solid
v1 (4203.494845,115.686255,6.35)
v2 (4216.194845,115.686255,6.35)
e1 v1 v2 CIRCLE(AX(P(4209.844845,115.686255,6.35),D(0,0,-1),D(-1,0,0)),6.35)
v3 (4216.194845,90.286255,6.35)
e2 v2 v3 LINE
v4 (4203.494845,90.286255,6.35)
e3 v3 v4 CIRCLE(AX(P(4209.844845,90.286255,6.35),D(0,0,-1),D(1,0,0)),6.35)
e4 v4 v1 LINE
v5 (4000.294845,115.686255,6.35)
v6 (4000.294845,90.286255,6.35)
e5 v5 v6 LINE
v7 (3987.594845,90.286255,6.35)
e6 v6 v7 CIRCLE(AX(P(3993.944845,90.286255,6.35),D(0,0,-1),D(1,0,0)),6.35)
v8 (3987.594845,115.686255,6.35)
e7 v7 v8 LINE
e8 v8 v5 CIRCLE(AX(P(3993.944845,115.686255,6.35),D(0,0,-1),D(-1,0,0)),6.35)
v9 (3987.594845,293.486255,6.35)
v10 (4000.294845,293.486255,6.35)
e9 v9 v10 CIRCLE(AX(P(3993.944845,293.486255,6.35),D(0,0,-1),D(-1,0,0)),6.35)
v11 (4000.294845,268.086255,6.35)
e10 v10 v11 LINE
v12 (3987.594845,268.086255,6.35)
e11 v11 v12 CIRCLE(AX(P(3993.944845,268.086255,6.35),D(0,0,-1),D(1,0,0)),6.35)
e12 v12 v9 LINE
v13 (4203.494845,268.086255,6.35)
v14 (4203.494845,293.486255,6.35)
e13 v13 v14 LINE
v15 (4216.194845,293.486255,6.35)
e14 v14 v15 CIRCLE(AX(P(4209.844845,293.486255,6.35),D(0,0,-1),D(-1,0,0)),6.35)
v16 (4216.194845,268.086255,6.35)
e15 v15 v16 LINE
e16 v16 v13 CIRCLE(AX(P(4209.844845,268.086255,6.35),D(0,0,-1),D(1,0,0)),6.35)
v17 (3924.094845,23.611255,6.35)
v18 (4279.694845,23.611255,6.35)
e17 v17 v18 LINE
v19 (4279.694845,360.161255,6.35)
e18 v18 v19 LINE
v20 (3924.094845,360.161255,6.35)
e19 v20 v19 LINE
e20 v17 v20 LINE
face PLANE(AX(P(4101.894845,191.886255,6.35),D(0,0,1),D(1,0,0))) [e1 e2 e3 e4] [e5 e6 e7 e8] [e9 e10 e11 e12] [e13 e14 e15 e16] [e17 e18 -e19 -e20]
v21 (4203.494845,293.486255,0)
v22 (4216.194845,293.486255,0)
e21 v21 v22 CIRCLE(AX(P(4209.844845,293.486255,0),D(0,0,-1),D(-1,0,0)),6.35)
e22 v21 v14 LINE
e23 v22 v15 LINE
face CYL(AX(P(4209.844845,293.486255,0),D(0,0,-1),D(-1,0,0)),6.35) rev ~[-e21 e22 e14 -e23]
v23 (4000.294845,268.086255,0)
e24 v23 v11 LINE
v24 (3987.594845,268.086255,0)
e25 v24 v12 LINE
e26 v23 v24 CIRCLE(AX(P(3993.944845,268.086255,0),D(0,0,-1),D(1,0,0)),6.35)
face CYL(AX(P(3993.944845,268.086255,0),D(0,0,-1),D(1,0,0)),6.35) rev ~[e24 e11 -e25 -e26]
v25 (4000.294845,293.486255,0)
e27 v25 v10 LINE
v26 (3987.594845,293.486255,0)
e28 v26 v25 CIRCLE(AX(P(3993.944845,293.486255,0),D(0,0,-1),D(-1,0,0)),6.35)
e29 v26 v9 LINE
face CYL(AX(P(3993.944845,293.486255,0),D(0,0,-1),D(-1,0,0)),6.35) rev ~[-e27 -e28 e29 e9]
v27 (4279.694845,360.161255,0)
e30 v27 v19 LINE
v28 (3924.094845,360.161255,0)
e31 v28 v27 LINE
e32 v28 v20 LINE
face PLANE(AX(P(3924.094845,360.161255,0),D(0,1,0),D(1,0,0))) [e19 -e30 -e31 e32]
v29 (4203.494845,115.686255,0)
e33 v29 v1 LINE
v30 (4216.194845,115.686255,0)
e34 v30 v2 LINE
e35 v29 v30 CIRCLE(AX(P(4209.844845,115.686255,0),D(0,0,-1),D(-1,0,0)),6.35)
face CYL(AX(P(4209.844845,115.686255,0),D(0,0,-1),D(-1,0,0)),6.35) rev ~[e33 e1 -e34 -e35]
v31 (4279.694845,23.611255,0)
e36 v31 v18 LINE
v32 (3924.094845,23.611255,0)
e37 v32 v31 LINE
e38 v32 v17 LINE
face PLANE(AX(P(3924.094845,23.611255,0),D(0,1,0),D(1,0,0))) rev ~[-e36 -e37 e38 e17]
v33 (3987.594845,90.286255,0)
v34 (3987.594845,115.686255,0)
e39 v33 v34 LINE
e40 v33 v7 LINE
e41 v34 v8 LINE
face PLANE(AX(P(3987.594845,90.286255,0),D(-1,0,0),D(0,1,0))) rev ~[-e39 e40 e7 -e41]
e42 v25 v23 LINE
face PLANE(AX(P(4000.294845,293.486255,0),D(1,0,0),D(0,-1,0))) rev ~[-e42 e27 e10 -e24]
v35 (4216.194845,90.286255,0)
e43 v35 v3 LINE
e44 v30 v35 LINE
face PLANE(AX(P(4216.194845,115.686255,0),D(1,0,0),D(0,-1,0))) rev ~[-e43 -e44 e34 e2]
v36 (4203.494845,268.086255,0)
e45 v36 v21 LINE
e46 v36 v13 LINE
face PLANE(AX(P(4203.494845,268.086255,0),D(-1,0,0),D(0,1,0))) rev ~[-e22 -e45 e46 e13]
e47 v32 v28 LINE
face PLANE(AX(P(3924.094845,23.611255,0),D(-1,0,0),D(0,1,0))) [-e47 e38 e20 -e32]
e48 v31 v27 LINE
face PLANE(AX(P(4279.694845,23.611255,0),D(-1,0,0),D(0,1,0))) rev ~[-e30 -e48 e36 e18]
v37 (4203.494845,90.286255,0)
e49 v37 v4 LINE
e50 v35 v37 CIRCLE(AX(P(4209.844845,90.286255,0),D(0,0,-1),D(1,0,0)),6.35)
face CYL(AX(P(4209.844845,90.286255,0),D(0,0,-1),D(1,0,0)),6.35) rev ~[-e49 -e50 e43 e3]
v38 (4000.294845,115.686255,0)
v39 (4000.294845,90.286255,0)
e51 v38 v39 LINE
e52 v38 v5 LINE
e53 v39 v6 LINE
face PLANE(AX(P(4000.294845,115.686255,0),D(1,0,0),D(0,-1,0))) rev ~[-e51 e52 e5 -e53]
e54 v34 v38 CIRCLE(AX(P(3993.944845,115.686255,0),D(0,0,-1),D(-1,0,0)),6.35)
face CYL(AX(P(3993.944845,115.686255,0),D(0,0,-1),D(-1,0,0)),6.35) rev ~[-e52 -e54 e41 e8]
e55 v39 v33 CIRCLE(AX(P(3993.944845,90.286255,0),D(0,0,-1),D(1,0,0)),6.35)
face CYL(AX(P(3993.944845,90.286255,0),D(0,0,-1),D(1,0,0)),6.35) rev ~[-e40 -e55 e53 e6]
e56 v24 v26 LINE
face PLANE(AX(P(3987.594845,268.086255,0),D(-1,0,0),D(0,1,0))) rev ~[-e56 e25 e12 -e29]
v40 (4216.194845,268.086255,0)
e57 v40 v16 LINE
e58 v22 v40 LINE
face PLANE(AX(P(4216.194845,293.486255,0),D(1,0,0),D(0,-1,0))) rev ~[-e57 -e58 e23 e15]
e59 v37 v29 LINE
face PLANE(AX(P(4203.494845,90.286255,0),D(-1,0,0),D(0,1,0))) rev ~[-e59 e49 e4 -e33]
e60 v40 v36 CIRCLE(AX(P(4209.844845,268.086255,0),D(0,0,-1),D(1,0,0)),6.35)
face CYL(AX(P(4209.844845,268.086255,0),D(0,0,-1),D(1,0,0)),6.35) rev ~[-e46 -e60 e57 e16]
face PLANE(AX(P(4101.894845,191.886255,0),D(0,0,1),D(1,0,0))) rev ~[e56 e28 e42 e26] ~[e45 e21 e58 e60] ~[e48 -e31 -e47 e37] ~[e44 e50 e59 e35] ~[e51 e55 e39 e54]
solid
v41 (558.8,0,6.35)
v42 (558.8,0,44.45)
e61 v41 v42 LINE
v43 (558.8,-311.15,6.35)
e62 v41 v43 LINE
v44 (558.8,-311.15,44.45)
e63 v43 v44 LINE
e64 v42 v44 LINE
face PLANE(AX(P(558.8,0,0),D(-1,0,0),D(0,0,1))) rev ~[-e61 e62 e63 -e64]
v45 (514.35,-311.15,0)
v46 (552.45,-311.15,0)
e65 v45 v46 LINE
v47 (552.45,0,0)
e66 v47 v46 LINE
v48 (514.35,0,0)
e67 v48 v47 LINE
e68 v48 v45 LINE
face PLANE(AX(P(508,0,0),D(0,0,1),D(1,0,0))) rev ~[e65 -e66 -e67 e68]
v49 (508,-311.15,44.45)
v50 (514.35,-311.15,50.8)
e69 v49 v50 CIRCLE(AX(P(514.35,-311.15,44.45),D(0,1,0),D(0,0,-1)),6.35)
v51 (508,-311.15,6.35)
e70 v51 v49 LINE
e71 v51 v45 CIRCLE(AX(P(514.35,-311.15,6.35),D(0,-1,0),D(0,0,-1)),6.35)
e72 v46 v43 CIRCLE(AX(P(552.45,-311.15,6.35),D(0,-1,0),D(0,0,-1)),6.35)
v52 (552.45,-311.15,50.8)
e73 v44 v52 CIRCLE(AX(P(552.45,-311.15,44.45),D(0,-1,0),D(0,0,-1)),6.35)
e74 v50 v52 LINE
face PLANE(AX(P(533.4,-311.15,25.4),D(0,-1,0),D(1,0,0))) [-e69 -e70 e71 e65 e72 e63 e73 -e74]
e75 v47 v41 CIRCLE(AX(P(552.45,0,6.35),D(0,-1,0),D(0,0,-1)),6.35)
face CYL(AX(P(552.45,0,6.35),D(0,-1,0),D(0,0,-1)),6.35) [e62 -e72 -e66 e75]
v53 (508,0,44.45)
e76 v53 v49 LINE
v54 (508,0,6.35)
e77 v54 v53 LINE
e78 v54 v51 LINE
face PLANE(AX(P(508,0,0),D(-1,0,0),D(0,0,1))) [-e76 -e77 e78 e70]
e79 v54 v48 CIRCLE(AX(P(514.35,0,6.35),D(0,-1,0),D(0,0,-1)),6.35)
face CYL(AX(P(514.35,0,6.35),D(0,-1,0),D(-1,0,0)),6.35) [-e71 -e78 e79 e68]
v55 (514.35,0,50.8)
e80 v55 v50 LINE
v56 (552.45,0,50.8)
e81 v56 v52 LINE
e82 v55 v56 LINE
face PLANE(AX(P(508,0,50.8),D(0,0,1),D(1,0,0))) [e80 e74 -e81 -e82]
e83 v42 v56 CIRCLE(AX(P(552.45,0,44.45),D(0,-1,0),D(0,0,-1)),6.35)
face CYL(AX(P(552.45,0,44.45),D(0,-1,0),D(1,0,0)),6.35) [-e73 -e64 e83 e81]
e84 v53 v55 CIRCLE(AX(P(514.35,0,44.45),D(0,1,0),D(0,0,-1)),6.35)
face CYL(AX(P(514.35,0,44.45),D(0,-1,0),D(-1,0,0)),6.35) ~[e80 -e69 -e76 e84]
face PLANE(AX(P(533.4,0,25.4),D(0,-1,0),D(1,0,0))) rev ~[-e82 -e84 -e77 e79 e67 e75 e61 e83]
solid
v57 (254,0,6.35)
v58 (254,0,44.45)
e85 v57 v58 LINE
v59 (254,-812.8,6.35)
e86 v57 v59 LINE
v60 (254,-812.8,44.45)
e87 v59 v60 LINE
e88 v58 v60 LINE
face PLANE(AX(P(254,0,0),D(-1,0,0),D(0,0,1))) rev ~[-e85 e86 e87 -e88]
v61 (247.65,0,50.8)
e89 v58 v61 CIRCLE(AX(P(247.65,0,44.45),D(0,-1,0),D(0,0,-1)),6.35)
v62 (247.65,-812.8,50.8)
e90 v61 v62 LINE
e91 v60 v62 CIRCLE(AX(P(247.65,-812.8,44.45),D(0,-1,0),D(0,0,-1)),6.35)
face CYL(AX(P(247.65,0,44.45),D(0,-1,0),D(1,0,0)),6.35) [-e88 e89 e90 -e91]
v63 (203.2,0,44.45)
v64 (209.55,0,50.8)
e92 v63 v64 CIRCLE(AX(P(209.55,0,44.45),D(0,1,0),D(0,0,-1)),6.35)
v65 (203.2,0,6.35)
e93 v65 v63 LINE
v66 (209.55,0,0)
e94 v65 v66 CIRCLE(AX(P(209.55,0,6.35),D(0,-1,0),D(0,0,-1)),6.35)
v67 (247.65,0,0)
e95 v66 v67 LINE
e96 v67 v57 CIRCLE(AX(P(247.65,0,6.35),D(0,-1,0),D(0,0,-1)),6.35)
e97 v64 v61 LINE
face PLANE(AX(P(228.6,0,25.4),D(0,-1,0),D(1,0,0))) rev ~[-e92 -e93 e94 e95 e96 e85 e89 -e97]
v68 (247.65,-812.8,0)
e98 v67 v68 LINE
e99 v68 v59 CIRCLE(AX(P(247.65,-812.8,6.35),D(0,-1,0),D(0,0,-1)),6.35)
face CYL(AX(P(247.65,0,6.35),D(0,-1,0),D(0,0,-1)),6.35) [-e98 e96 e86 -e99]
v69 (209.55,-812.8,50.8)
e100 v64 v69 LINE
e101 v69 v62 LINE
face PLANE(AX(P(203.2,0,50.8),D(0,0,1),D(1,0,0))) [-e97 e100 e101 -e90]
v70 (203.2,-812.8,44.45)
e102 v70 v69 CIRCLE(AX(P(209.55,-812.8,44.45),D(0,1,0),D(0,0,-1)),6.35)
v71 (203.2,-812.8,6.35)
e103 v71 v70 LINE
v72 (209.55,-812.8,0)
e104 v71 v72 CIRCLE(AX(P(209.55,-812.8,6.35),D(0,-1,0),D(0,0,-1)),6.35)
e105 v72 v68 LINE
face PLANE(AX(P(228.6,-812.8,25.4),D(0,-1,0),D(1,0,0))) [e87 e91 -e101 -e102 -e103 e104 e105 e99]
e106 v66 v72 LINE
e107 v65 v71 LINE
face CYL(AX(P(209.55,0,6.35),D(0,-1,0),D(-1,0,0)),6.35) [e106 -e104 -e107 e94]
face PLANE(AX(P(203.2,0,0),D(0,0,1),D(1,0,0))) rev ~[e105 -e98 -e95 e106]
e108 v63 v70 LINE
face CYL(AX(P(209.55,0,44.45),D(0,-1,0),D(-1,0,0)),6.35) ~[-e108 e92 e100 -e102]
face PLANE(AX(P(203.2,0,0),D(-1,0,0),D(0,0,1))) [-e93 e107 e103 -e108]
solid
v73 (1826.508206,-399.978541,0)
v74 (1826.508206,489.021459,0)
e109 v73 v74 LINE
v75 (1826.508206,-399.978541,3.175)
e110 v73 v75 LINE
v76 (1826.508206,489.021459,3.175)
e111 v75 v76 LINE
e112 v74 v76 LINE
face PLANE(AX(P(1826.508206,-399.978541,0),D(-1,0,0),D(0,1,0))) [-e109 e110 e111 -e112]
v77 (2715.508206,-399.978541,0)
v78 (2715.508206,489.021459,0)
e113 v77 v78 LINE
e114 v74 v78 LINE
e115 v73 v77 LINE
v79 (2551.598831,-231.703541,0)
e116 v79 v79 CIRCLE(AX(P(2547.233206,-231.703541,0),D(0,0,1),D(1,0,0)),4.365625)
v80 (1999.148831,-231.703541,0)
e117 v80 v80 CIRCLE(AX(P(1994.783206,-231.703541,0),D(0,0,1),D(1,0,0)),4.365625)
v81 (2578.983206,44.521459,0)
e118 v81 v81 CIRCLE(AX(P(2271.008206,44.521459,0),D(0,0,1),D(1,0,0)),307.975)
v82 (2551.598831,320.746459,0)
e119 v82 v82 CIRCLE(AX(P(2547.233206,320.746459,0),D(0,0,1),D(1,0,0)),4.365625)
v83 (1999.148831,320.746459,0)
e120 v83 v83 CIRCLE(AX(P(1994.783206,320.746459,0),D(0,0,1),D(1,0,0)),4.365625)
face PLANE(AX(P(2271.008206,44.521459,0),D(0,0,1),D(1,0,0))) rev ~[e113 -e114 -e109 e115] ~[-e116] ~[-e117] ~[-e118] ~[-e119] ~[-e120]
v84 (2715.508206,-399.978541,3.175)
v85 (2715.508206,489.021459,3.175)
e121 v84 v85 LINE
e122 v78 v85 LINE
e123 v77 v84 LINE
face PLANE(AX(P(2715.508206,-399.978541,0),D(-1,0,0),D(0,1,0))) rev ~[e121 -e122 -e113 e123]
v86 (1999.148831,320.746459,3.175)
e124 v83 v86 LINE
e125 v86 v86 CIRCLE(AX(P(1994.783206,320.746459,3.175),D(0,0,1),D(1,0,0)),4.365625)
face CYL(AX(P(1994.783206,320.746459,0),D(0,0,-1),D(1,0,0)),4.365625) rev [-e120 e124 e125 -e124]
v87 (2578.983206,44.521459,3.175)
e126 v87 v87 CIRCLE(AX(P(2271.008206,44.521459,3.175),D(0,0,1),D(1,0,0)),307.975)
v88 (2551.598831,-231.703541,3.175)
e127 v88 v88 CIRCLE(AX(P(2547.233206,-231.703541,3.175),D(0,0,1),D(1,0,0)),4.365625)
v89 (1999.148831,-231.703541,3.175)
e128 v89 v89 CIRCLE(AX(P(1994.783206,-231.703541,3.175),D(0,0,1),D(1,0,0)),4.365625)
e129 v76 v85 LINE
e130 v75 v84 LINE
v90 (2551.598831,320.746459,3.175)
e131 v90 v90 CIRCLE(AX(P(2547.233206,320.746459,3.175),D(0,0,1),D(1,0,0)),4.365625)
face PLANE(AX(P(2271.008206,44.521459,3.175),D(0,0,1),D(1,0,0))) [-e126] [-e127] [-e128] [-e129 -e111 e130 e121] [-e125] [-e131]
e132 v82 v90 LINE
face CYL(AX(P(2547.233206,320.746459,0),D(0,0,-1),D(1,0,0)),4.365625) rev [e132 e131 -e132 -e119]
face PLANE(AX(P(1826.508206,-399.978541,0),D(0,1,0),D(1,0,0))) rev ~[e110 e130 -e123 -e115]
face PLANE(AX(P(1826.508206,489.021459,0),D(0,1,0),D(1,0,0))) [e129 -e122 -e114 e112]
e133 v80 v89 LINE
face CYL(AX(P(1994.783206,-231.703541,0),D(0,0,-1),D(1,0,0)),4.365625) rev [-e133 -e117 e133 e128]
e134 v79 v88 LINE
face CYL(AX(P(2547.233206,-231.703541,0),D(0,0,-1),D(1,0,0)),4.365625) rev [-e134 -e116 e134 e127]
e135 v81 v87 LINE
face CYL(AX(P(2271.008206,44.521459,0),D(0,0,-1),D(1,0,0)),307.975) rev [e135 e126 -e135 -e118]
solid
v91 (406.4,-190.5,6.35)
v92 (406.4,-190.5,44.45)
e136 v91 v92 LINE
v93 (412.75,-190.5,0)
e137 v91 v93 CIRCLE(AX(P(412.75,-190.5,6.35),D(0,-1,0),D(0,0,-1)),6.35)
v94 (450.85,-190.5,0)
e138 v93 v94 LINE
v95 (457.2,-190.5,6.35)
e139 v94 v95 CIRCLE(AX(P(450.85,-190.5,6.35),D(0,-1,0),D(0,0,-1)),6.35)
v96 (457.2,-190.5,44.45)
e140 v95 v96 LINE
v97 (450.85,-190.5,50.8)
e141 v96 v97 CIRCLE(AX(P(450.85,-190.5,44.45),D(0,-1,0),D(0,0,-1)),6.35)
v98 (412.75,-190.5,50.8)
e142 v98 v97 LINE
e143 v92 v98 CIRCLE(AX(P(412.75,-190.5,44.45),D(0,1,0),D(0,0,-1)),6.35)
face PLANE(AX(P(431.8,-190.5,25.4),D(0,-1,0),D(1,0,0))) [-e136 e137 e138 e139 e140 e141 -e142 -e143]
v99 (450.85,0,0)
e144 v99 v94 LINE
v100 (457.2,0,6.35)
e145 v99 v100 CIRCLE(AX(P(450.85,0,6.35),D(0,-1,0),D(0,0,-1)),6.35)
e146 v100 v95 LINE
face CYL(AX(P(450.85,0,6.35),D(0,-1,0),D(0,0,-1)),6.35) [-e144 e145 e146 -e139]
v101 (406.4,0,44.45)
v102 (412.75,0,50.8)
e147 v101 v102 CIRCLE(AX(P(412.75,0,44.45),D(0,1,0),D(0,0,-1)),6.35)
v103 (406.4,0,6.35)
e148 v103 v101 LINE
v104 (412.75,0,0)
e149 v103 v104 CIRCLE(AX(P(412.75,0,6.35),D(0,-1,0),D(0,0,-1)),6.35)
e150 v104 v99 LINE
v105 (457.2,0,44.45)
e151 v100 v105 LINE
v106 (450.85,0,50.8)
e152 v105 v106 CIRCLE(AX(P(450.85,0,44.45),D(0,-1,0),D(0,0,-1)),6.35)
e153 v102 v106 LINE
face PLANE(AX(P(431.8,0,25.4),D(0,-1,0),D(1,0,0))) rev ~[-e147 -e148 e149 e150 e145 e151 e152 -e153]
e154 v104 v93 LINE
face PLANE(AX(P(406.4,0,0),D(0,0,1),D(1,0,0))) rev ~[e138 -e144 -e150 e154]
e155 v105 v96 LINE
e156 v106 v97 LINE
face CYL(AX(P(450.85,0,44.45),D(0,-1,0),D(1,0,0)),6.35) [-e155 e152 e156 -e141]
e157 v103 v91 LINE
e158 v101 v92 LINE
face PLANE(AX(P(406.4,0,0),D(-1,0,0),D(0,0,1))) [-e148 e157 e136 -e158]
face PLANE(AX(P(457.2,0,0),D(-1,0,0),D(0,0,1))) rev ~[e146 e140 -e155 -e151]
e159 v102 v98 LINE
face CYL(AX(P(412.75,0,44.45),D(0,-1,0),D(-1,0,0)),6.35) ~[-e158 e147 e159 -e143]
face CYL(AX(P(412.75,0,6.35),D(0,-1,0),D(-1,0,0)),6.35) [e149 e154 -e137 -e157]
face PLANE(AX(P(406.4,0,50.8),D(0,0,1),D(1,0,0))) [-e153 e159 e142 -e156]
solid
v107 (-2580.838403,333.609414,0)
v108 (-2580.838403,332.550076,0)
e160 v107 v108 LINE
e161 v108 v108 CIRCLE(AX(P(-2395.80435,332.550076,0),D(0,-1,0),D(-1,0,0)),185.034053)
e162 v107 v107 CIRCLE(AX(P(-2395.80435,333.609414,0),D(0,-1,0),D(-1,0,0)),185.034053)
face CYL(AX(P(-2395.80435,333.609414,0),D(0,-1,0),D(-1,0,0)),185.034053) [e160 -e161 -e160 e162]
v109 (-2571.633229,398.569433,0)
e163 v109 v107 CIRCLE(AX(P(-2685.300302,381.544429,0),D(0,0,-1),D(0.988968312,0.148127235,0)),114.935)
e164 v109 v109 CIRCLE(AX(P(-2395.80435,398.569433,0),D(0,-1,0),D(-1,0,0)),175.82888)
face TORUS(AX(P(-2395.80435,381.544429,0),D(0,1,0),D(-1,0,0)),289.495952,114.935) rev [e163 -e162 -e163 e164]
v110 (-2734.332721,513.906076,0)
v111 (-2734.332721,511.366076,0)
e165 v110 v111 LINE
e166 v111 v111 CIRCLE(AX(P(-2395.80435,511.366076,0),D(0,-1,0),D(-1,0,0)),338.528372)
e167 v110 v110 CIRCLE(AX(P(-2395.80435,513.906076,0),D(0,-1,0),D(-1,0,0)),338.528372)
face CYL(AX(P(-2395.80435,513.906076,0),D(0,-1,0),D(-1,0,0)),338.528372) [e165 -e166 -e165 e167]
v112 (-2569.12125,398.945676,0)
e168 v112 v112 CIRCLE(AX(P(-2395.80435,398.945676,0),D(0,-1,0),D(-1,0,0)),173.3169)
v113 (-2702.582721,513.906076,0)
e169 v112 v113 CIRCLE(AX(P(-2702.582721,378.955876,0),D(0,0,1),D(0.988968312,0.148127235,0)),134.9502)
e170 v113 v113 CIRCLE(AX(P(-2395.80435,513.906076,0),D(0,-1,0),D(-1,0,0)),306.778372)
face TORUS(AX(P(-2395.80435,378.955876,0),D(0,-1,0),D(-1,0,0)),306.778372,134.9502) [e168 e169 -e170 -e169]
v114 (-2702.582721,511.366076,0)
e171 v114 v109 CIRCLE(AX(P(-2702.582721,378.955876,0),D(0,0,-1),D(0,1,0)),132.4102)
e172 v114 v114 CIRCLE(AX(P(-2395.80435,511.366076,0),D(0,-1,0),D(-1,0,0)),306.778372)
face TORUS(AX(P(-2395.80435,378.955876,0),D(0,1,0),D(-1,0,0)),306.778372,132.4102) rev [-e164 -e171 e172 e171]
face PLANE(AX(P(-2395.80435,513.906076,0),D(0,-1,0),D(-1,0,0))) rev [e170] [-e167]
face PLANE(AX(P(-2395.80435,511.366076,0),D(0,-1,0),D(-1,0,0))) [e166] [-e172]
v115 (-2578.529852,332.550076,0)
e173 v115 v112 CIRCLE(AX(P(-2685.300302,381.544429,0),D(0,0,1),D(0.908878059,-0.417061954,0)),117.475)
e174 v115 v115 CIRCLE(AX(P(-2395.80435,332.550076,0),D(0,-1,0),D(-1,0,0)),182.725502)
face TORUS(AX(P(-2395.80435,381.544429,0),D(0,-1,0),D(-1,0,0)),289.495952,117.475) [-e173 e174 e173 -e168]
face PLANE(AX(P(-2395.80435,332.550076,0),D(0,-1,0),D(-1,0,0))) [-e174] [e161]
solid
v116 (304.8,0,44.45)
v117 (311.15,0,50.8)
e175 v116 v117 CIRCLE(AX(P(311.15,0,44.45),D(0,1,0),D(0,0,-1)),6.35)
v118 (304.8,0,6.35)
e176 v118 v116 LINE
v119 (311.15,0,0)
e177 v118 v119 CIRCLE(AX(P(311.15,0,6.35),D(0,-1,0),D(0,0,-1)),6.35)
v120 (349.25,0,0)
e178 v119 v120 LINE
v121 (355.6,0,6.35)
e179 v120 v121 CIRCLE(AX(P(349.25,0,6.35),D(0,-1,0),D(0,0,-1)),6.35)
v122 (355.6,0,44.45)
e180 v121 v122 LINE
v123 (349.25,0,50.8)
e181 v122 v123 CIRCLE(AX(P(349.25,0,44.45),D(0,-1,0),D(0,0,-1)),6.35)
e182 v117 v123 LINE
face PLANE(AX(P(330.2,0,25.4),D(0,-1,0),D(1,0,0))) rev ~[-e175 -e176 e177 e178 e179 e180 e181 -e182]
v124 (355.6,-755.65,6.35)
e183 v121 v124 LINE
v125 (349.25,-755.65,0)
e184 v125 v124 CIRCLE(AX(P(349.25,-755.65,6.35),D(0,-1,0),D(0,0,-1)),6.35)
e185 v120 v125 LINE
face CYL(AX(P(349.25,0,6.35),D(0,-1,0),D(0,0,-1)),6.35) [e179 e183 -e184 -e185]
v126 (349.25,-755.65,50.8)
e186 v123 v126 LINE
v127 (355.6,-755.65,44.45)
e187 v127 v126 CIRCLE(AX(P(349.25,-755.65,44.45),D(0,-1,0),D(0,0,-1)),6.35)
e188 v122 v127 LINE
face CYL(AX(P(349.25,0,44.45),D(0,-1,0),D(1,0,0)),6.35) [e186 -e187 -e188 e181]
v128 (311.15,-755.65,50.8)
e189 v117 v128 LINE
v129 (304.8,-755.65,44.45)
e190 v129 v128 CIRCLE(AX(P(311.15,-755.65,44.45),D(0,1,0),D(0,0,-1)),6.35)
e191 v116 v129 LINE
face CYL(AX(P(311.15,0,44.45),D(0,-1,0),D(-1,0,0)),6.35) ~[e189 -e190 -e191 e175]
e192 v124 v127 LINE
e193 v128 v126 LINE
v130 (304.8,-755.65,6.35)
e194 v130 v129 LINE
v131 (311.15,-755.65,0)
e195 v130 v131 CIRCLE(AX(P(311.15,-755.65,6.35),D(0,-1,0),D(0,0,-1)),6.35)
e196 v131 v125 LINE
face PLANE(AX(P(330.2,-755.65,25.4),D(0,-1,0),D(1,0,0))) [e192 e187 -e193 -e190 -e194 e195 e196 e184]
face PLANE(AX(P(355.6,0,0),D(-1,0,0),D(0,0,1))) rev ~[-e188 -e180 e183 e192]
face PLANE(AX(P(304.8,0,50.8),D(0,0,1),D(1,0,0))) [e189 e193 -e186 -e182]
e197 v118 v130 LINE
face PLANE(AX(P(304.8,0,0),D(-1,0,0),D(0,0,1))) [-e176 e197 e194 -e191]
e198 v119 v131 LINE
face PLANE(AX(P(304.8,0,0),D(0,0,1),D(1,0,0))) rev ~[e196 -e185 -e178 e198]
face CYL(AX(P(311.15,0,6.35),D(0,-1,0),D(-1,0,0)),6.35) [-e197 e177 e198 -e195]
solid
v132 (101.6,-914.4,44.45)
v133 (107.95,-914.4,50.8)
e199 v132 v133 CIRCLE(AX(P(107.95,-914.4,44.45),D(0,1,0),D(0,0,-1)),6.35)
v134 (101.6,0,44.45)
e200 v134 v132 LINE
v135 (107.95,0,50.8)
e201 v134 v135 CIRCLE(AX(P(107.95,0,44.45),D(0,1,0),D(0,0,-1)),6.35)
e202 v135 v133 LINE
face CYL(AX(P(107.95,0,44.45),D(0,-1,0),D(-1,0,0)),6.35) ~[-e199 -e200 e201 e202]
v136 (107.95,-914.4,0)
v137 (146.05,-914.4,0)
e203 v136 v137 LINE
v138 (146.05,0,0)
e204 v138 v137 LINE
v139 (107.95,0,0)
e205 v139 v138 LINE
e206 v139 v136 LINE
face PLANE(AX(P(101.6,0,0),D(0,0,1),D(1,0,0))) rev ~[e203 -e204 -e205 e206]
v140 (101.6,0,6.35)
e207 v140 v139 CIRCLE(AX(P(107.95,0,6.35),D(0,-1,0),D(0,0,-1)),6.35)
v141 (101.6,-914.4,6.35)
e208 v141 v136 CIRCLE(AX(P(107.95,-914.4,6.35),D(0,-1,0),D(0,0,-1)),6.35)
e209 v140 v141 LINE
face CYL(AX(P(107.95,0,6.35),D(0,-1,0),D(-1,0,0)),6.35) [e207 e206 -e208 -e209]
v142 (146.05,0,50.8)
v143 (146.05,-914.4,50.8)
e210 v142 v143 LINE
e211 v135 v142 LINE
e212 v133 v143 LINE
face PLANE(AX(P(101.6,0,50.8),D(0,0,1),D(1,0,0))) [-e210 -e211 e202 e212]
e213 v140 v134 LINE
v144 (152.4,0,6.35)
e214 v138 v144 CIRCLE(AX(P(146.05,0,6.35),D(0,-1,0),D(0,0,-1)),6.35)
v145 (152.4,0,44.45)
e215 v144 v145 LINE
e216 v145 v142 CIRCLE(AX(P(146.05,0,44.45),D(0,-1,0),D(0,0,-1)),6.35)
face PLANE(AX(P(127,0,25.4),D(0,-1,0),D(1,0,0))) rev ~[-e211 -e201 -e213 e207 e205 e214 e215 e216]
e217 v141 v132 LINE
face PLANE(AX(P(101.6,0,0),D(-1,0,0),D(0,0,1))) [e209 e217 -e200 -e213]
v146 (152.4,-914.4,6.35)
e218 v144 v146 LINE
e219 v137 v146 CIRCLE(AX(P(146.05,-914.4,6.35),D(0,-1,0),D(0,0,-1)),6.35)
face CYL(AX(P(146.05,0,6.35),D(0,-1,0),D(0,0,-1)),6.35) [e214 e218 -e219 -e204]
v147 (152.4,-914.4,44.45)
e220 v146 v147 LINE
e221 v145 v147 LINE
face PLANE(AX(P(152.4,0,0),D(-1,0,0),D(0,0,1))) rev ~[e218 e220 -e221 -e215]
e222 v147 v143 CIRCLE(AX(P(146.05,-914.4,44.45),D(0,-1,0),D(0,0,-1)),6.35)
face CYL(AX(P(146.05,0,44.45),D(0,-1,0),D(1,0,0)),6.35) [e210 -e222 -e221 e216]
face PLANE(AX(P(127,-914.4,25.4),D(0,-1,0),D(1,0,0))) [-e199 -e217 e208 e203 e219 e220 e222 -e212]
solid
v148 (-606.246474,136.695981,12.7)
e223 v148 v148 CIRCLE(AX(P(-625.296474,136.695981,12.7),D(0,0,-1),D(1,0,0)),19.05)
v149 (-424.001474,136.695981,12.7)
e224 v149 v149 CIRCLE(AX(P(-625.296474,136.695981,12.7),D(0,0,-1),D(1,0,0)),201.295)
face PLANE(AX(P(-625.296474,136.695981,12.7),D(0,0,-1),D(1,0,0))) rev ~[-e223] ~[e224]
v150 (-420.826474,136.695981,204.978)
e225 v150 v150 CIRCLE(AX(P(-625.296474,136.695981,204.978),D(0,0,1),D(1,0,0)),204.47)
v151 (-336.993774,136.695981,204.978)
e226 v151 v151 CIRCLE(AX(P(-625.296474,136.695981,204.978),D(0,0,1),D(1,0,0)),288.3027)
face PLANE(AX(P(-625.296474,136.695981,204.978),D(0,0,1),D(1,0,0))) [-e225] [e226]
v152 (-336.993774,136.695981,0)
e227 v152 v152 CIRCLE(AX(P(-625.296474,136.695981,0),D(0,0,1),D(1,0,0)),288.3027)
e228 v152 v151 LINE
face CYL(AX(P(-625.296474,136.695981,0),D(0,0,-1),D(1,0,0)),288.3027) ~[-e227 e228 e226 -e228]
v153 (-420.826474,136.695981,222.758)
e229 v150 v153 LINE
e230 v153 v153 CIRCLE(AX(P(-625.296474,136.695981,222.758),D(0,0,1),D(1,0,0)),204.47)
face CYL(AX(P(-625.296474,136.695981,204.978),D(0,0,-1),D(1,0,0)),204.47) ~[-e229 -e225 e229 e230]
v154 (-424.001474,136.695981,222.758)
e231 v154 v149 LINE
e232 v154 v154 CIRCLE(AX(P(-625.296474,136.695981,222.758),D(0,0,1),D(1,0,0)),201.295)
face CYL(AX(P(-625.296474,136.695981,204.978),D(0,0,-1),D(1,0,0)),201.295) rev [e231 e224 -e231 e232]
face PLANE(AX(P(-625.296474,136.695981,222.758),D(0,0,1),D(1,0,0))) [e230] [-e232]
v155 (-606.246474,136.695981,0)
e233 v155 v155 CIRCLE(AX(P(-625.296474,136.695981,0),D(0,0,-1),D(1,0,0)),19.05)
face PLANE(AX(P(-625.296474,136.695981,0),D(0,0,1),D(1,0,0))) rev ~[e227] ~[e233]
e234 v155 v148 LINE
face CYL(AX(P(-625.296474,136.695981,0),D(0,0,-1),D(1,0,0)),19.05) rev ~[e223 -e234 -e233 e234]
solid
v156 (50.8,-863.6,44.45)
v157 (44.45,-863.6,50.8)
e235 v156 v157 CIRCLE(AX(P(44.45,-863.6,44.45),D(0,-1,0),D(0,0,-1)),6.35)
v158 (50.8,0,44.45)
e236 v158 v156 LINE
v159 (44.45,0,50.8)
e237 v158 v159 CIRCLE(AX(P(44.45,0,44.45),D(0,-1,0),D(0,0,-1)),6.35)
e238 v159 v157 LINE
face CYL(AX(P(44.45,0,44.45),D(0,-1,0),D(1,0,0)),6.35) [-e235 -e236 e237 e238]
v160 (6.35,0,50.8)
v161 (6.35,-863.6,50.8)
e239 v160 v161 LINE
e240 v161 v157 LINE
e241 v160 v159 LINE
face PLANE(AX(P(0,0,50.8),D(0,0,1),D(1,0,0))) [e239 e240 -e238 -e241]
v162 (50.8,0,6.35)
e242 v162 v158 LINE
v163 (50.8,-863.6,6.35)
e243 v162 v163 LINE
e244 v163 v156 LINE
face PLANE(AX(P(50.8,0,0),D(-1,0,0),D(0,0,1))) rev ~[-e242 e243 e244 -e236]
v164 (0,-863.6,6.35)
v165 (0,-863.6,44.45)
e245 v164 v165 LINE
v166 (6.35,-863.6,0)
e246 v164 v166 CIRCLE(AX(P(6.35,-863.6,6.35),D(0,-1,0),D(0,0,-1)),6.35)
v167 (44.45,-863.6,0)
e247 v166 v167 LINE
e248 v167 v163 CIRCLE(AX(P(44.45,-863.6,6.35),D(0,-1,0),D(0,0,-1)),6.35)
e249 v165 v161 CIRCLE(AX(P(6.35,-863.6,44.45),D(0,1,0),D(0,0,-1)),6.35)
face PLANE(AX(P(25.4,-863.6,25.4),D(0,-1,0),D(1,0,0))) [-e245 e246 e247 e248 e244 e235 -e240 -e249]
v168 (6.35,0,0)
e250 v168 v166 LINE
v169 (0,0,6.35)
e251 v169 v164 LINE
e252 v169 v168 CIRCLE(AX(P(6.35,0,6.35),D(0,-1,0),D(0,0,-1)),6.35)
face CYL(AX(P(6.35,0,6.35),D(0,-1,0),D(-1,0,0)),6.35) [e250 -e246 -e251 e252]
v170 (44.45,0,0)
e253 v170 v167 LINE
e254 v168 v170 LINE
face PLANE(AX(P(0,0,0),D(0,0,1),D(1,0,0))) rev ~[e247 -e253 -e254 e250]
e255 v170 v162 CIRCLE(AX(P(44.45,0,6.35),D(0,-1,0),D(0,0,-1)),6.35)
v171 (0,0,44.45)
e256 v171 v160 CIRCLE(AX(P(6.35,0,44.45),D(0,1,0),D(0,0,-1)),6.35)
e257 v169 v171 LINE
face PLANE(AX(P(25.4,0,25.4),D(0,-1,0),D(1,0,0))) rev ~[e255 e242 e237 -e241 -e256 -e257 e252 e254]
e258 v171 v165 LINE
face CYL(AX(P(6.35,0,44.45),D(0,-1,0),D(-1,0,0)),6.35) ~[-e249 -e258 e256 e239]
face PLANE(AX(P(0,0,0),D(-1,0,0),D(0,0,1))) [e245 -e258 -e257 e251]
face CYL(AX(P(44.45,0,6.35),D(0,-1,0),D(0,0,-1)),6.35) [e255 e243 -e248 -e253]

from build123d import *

# Parameters (mm, degrees)
F0_W      = 50.8
F0_H      = 50.8
F1_DEPTH  = 863.6
F2_R      = 6.35
F3_DEPTH  = 914.4
F4_DEPTH  = 812.8
F5_DEPTH  = 755.65
F6_DEPTH  = 190.5
F7_R      = 288.3027
F7_R_2    = 201.295
F8_DEPTH  = 204.978
F9_DEPTH  = 311.15
F10_W     = 889
F10_H     = 889
F10_R     = 4.365625
F10_R_2   = 307.975
F11_DEPTH = 3.175
F12_W     = 355.6
F12_H     = 336.55
F13_DEPTH = 6.35
F14_R     = 6.35
F14_2_R   = 6.35
F14_3_R   = 6.35
F14_4_R   = 6.35
F14_5_R   = 6.35
F17_R     = 201.6125
F17_R_2   = 19.05
F18_DEPTH = 12.7
F19_R     = 204.47
F19_R_2   = 201.295
F20_DEPTH = 17.78


with BuildPart() as f1:
    # F0 (on Front) → F1 (new body)
    with BuildSketch(Plane.XZ):
        with Locations((25.4, 25.4)):
            Rectangle(F0_W, F0_H)
    extrude(amount=F1_DEPTH)

    # F2
    f2_edges = [f1.edges().sort_by_distance(p)[0] for p in [
        (0, -431.8, 50.8),
        (0, -431.8, 0),
        (50.8, -431.8, 50.8),
        (50.8, -431.8, 0),
    ]]
    fillet(f2_edges, radius=F2_R)


with BuildPart() as f3:
    # F0 (on Front) → F3 (new body)
    with BuildSketch(Plane.XZ):
        with Locations((127, 25.4)):
            Rectangle(F0_W, F0_H)
    extrude(amount=F3_DEPTH)

    # F14
    f14_edges = [f3.edges().sort_by_distance(p)[0] for p in [
        (101.6, -457.2, 50.8),
        (152.4, -457.2, 50.8),
        (101.6, -457.2, 0),
        (152.4, -457.2, 0),
    ]]
    fillet(f14_edges, radius=F14_R)


with BuildPart() as f4:
    # F0 (on Front) → F4 (new body)
    with BuildSketch(Plane.XZ):
        with Locations((228.6, 25.4)):
            Rectangle(F0_W, F0_H)
    extrude(amount=F4_DEPTH)

    # F14#2
    f14_2_edges = [f4.edges().sort_by_distance(p)[0] for p in [
        (203.2, -406.4, 50.8),
        (254, -406.4, 50.8),
        (203.2, -406.4, 0),
        (254, -406.4, 0),
    ]]
    fillet(f14_2_edges, radius=F14_2_R)


with BuildPart() as f5:
    # F0 (on Front) → F5 (new body)
    with BuildSketch(Plane.XZ):
        with Locations((330.2, 25.4)):
            Rectangle(F0_W, F0_H)
    extrude(amount=F5_DEPTH)

    # F14#3
    f14_3_edges = [f5.edges().sort_by_distance(p)[0] for p in [
        (304.8, -377.825, 0),
        (355.6, -377.825, 0),
        (304.8, -377.825, 50.8),
        (355.6, -377.825, 50.8),
    ]]
    fillet(f14_3_edges, radius=F14_3_R)


with BuildPart() as f6:
    # F0 (on Front) → F6 (new body)
    with BuildSketch(Plane.XZ):
        with Locations((431.8, 25.4)):
            Rectangle(F0_W, F0_H)
    extrude(amount=F6_DEPTH)

    # F14#4
    f14_4_edges = [f6.edges().sort_by_distance(p)[0] for p in [
        (406.4, -95.25, 0),
        (457.2, -95.25, 0),
        (406.4, -95.25, 50.8),
        (457.2, -95.25, 50.8),
    ]]
    fillet(f14_4_edges, radius=F14_4_R)


with BuildPart() as f8:
    # F7 (on Top) → F8 (new body)
    with BuildSketch(Plane.XY):
        with Locations((-625.2964735031, 136.6959810257)):
            Circle(F7_R)
        with Locations((-625.2964735031, 136.6959810257)):
            Circle(F7_R_2, mode=Mode.SUBTRACT)
    extrude(amount=F8_DEPTH)

    # F17 (on face) → F18 (join)
    with BuildSketch(Plane(origin=(0, 0, 0), x_dir=(1, 0, 0), z_dir=(0, 0, -1))):
        with Locations((-625.2964735031, -136.6959810257)):
            Circle(F17_R)
        with Locations((-625.2964735031, -136.6959810257)):
            Circle(F17_R_2, mode=Mode.SUBTRACT)
    extrude(amount=-F18_DEPTH)

    # F19 (on face) → F20 (join)
    with BuildSketch(Plane.XY.offset(204.978)):
        with Locations((-625.2964735031, 136.6959810257)):
            Circle(F19_R)
        with Locations((-625.2964735031, 136.6959810257)):
            Circle(F19_R_2, mode=Mode.SUBTRACT)
    extrude(amount=F20_DEPTH)


with BuildPart() as f9:
    # F0 (on Front) → F9 (new body)
    with BuildSketch(Plane.XZ):
        with Locations((533.4, 25.4)):
            Rectangle(F0_W, F0_H)
    extrude(amount=F9_DEPTH)

    # F14#5
    f14_5_edges = [f9.edges().sort_by_distance(p)[0] for p in [
        (508, -155.575, 0),
        (558.8, -155.575, 0),
        (508, -155.575, 50.8),
        (558.8, -155.575, 50.8),
    ]]
    fillet(f14_5_edges, radius=F14_5_R)


with BuildPart() as f11:
    # F10 (on Top) → F11 (new body)
    with BuildSketch(Plane.XY):
        with Locations((2271.0082060814, 44.5214594526)):
            Rectangle(F10_W, F10_H)
        with Locations((1994.7832060814, -231.7035405474)):
            Circle(F10_R, mode=Mode.SUBTRACT)
        with Locations((2547.2332060814, -231.7035405474)):
            Circle(F10_R, mode=Mode.SUBTRACT)
        with Locations((2271.0082060814, 44.5214594526)):
            Circle(F10_R_2, mode=Mode.SUBTRACT)
        with Locations((1994.7832060814, 320.7464594526)):
            Circle(F10_R, mode=Mode.SUBTRACT)
        with Locations((2547.2332060814, 320.7464594526)):
            Circle(F10_R, mode=Mode.SUBTRACT)
    extrude(amount=F11_DEPTH)


with BuildPart() as f13:
    # F12 (on Top) → F13 (new body)
    with BuildSketch(Plane.XY):
        with Locations((4101.8948446361, 191.8862545967)):
            Rectangle(F12_W, F12_H)
        with BuildLine():
            Line((3987.5948446361, 90.2862545967), (3987.5948446361, 115.6862545967))
            ThreePointArc((3987.5948446361, 115.6862545967), (3993.9448446361, 122.0362545967), (4000.2948446361, 115.6862545967))
            Line((4000.2948446361, 115.6862545967), (4000.2948446361, 90.2862545967))
            ThreePointArc((4000.2948446361, 90.2862545967), (3993.9448446361, 83.9362545967), (3987.5948446361, 90.2862545967))
        make_face(mode=Mode.SUBTRACT)
        with BuildLine():
            Line((4203.4948446361, 90.2862545967), (4203.4948446361, 115.6862545967))
            ThreePointArc((4203.4948446361, 115.6862545967), (4209.8448446361, 122.0362545967), (4216.1948446361, 115.6862545967))
            Line((4216.1948446361, 115.6862545967), (4216.1948446361, 90.2862545967))
            ThreePointArc((4216.1948446361, 90.2862545967), (4209.8448446361, 83.9362545967), (4203.4948446361, 90.2862545967))
        make_face(mode=Mode.SUBTRACT)
        with BuildLine():
            Line((3987.5948446361, 268.0862545967), (3987.5948446361, 293.4862545967))
            ThreePointArc((3987.5948446361, 293.4862545967), (3993.9448446361, 299.8362545967), (4000.2948446361, 293.4862545967))
            Line((4000.2948446361, 293.4862545967), (4000.2948446361, 268.0862545967))
            ThreePointArc((4000.2948446361, 268.0862545967), (3993.9448446361, 261.7362545967), (3987.5948446361, 268.0862545967))
        make_face(mode=Mode.SUBTRACT)
        with BuildLine():
            Line((4203.4948446361, 268.0862545967), (4203.4948446361, 293.4862545967))
            ThreePointArc((4203.4948446361, 293.4862545967), (4209.8448446361, 299.8362545967), (4216.1948446361, 293.4862545967))
            Line((4216.1948446361, 293.4862545967), (4216.1948446361, 268.0862545967))
            ThreePointArc((4216.1948446361, 268.0862545967), (4209.8448446361, 261.7362545967), (4203.4948446361, 268.0862545967))
        make_face(mode=Mode.SUBTRACT)
    extrude(amount=F13_DEPTH)


with BuildPart() as f16:
    # F15 (on Top) → F16 (revolve)
    with BuildSketch(Plane.XY):
        with BuildLine():
            ThreePointArc((-2569.1212499152, 398.9456764167), (-2614.5090903708, 481.2035756279), (-2702.5827214192, 513.9060764167))
            Line((-2702.5827214192, 513.9060764167), (-2734.3327214192, 513.9060764167))
            Line((-2734.3327214192, 513.9060764167), (-2734.3327214192, 511.3660764167))
            Line((-2734.3327214192, 511.3660764167), (-2702.5827214192, 511.3660764167))
            ThreePointArc((-2702.5827214192, 511.3660764167), (-2616.1667909364, 479.2790941822), (-2571.6332294278, 398.5694332395))
            ThreePointArc((-2571.6332294278, 398.5694332395), (-2571.5021775544, 365.4186422738), (-2580.838402642, 333.6094137801))
            Line((-2580.838402642, 333.6094137801), (-2580.838402642, 332.5500764167))
            Line((-2580.838402642, 332.5500764167), (-2578.5298523717, 332.5500764167))
            ThreePointArc((-2578.5298523717, 332.5500764167), (-2568.9873018678, 365.0622712859), (-2569.1212499152, 398.9456764167))
        make_face()
    revolve(axis=Axis((-2395.8043499152, 435.1736456156, 0), (0, -1, 0)))


solid = Compound([f1.part, f3.part, f4.part, f5.part, f6.part, f8.part, f9.part, f11.part, f13.part, f16.part])
